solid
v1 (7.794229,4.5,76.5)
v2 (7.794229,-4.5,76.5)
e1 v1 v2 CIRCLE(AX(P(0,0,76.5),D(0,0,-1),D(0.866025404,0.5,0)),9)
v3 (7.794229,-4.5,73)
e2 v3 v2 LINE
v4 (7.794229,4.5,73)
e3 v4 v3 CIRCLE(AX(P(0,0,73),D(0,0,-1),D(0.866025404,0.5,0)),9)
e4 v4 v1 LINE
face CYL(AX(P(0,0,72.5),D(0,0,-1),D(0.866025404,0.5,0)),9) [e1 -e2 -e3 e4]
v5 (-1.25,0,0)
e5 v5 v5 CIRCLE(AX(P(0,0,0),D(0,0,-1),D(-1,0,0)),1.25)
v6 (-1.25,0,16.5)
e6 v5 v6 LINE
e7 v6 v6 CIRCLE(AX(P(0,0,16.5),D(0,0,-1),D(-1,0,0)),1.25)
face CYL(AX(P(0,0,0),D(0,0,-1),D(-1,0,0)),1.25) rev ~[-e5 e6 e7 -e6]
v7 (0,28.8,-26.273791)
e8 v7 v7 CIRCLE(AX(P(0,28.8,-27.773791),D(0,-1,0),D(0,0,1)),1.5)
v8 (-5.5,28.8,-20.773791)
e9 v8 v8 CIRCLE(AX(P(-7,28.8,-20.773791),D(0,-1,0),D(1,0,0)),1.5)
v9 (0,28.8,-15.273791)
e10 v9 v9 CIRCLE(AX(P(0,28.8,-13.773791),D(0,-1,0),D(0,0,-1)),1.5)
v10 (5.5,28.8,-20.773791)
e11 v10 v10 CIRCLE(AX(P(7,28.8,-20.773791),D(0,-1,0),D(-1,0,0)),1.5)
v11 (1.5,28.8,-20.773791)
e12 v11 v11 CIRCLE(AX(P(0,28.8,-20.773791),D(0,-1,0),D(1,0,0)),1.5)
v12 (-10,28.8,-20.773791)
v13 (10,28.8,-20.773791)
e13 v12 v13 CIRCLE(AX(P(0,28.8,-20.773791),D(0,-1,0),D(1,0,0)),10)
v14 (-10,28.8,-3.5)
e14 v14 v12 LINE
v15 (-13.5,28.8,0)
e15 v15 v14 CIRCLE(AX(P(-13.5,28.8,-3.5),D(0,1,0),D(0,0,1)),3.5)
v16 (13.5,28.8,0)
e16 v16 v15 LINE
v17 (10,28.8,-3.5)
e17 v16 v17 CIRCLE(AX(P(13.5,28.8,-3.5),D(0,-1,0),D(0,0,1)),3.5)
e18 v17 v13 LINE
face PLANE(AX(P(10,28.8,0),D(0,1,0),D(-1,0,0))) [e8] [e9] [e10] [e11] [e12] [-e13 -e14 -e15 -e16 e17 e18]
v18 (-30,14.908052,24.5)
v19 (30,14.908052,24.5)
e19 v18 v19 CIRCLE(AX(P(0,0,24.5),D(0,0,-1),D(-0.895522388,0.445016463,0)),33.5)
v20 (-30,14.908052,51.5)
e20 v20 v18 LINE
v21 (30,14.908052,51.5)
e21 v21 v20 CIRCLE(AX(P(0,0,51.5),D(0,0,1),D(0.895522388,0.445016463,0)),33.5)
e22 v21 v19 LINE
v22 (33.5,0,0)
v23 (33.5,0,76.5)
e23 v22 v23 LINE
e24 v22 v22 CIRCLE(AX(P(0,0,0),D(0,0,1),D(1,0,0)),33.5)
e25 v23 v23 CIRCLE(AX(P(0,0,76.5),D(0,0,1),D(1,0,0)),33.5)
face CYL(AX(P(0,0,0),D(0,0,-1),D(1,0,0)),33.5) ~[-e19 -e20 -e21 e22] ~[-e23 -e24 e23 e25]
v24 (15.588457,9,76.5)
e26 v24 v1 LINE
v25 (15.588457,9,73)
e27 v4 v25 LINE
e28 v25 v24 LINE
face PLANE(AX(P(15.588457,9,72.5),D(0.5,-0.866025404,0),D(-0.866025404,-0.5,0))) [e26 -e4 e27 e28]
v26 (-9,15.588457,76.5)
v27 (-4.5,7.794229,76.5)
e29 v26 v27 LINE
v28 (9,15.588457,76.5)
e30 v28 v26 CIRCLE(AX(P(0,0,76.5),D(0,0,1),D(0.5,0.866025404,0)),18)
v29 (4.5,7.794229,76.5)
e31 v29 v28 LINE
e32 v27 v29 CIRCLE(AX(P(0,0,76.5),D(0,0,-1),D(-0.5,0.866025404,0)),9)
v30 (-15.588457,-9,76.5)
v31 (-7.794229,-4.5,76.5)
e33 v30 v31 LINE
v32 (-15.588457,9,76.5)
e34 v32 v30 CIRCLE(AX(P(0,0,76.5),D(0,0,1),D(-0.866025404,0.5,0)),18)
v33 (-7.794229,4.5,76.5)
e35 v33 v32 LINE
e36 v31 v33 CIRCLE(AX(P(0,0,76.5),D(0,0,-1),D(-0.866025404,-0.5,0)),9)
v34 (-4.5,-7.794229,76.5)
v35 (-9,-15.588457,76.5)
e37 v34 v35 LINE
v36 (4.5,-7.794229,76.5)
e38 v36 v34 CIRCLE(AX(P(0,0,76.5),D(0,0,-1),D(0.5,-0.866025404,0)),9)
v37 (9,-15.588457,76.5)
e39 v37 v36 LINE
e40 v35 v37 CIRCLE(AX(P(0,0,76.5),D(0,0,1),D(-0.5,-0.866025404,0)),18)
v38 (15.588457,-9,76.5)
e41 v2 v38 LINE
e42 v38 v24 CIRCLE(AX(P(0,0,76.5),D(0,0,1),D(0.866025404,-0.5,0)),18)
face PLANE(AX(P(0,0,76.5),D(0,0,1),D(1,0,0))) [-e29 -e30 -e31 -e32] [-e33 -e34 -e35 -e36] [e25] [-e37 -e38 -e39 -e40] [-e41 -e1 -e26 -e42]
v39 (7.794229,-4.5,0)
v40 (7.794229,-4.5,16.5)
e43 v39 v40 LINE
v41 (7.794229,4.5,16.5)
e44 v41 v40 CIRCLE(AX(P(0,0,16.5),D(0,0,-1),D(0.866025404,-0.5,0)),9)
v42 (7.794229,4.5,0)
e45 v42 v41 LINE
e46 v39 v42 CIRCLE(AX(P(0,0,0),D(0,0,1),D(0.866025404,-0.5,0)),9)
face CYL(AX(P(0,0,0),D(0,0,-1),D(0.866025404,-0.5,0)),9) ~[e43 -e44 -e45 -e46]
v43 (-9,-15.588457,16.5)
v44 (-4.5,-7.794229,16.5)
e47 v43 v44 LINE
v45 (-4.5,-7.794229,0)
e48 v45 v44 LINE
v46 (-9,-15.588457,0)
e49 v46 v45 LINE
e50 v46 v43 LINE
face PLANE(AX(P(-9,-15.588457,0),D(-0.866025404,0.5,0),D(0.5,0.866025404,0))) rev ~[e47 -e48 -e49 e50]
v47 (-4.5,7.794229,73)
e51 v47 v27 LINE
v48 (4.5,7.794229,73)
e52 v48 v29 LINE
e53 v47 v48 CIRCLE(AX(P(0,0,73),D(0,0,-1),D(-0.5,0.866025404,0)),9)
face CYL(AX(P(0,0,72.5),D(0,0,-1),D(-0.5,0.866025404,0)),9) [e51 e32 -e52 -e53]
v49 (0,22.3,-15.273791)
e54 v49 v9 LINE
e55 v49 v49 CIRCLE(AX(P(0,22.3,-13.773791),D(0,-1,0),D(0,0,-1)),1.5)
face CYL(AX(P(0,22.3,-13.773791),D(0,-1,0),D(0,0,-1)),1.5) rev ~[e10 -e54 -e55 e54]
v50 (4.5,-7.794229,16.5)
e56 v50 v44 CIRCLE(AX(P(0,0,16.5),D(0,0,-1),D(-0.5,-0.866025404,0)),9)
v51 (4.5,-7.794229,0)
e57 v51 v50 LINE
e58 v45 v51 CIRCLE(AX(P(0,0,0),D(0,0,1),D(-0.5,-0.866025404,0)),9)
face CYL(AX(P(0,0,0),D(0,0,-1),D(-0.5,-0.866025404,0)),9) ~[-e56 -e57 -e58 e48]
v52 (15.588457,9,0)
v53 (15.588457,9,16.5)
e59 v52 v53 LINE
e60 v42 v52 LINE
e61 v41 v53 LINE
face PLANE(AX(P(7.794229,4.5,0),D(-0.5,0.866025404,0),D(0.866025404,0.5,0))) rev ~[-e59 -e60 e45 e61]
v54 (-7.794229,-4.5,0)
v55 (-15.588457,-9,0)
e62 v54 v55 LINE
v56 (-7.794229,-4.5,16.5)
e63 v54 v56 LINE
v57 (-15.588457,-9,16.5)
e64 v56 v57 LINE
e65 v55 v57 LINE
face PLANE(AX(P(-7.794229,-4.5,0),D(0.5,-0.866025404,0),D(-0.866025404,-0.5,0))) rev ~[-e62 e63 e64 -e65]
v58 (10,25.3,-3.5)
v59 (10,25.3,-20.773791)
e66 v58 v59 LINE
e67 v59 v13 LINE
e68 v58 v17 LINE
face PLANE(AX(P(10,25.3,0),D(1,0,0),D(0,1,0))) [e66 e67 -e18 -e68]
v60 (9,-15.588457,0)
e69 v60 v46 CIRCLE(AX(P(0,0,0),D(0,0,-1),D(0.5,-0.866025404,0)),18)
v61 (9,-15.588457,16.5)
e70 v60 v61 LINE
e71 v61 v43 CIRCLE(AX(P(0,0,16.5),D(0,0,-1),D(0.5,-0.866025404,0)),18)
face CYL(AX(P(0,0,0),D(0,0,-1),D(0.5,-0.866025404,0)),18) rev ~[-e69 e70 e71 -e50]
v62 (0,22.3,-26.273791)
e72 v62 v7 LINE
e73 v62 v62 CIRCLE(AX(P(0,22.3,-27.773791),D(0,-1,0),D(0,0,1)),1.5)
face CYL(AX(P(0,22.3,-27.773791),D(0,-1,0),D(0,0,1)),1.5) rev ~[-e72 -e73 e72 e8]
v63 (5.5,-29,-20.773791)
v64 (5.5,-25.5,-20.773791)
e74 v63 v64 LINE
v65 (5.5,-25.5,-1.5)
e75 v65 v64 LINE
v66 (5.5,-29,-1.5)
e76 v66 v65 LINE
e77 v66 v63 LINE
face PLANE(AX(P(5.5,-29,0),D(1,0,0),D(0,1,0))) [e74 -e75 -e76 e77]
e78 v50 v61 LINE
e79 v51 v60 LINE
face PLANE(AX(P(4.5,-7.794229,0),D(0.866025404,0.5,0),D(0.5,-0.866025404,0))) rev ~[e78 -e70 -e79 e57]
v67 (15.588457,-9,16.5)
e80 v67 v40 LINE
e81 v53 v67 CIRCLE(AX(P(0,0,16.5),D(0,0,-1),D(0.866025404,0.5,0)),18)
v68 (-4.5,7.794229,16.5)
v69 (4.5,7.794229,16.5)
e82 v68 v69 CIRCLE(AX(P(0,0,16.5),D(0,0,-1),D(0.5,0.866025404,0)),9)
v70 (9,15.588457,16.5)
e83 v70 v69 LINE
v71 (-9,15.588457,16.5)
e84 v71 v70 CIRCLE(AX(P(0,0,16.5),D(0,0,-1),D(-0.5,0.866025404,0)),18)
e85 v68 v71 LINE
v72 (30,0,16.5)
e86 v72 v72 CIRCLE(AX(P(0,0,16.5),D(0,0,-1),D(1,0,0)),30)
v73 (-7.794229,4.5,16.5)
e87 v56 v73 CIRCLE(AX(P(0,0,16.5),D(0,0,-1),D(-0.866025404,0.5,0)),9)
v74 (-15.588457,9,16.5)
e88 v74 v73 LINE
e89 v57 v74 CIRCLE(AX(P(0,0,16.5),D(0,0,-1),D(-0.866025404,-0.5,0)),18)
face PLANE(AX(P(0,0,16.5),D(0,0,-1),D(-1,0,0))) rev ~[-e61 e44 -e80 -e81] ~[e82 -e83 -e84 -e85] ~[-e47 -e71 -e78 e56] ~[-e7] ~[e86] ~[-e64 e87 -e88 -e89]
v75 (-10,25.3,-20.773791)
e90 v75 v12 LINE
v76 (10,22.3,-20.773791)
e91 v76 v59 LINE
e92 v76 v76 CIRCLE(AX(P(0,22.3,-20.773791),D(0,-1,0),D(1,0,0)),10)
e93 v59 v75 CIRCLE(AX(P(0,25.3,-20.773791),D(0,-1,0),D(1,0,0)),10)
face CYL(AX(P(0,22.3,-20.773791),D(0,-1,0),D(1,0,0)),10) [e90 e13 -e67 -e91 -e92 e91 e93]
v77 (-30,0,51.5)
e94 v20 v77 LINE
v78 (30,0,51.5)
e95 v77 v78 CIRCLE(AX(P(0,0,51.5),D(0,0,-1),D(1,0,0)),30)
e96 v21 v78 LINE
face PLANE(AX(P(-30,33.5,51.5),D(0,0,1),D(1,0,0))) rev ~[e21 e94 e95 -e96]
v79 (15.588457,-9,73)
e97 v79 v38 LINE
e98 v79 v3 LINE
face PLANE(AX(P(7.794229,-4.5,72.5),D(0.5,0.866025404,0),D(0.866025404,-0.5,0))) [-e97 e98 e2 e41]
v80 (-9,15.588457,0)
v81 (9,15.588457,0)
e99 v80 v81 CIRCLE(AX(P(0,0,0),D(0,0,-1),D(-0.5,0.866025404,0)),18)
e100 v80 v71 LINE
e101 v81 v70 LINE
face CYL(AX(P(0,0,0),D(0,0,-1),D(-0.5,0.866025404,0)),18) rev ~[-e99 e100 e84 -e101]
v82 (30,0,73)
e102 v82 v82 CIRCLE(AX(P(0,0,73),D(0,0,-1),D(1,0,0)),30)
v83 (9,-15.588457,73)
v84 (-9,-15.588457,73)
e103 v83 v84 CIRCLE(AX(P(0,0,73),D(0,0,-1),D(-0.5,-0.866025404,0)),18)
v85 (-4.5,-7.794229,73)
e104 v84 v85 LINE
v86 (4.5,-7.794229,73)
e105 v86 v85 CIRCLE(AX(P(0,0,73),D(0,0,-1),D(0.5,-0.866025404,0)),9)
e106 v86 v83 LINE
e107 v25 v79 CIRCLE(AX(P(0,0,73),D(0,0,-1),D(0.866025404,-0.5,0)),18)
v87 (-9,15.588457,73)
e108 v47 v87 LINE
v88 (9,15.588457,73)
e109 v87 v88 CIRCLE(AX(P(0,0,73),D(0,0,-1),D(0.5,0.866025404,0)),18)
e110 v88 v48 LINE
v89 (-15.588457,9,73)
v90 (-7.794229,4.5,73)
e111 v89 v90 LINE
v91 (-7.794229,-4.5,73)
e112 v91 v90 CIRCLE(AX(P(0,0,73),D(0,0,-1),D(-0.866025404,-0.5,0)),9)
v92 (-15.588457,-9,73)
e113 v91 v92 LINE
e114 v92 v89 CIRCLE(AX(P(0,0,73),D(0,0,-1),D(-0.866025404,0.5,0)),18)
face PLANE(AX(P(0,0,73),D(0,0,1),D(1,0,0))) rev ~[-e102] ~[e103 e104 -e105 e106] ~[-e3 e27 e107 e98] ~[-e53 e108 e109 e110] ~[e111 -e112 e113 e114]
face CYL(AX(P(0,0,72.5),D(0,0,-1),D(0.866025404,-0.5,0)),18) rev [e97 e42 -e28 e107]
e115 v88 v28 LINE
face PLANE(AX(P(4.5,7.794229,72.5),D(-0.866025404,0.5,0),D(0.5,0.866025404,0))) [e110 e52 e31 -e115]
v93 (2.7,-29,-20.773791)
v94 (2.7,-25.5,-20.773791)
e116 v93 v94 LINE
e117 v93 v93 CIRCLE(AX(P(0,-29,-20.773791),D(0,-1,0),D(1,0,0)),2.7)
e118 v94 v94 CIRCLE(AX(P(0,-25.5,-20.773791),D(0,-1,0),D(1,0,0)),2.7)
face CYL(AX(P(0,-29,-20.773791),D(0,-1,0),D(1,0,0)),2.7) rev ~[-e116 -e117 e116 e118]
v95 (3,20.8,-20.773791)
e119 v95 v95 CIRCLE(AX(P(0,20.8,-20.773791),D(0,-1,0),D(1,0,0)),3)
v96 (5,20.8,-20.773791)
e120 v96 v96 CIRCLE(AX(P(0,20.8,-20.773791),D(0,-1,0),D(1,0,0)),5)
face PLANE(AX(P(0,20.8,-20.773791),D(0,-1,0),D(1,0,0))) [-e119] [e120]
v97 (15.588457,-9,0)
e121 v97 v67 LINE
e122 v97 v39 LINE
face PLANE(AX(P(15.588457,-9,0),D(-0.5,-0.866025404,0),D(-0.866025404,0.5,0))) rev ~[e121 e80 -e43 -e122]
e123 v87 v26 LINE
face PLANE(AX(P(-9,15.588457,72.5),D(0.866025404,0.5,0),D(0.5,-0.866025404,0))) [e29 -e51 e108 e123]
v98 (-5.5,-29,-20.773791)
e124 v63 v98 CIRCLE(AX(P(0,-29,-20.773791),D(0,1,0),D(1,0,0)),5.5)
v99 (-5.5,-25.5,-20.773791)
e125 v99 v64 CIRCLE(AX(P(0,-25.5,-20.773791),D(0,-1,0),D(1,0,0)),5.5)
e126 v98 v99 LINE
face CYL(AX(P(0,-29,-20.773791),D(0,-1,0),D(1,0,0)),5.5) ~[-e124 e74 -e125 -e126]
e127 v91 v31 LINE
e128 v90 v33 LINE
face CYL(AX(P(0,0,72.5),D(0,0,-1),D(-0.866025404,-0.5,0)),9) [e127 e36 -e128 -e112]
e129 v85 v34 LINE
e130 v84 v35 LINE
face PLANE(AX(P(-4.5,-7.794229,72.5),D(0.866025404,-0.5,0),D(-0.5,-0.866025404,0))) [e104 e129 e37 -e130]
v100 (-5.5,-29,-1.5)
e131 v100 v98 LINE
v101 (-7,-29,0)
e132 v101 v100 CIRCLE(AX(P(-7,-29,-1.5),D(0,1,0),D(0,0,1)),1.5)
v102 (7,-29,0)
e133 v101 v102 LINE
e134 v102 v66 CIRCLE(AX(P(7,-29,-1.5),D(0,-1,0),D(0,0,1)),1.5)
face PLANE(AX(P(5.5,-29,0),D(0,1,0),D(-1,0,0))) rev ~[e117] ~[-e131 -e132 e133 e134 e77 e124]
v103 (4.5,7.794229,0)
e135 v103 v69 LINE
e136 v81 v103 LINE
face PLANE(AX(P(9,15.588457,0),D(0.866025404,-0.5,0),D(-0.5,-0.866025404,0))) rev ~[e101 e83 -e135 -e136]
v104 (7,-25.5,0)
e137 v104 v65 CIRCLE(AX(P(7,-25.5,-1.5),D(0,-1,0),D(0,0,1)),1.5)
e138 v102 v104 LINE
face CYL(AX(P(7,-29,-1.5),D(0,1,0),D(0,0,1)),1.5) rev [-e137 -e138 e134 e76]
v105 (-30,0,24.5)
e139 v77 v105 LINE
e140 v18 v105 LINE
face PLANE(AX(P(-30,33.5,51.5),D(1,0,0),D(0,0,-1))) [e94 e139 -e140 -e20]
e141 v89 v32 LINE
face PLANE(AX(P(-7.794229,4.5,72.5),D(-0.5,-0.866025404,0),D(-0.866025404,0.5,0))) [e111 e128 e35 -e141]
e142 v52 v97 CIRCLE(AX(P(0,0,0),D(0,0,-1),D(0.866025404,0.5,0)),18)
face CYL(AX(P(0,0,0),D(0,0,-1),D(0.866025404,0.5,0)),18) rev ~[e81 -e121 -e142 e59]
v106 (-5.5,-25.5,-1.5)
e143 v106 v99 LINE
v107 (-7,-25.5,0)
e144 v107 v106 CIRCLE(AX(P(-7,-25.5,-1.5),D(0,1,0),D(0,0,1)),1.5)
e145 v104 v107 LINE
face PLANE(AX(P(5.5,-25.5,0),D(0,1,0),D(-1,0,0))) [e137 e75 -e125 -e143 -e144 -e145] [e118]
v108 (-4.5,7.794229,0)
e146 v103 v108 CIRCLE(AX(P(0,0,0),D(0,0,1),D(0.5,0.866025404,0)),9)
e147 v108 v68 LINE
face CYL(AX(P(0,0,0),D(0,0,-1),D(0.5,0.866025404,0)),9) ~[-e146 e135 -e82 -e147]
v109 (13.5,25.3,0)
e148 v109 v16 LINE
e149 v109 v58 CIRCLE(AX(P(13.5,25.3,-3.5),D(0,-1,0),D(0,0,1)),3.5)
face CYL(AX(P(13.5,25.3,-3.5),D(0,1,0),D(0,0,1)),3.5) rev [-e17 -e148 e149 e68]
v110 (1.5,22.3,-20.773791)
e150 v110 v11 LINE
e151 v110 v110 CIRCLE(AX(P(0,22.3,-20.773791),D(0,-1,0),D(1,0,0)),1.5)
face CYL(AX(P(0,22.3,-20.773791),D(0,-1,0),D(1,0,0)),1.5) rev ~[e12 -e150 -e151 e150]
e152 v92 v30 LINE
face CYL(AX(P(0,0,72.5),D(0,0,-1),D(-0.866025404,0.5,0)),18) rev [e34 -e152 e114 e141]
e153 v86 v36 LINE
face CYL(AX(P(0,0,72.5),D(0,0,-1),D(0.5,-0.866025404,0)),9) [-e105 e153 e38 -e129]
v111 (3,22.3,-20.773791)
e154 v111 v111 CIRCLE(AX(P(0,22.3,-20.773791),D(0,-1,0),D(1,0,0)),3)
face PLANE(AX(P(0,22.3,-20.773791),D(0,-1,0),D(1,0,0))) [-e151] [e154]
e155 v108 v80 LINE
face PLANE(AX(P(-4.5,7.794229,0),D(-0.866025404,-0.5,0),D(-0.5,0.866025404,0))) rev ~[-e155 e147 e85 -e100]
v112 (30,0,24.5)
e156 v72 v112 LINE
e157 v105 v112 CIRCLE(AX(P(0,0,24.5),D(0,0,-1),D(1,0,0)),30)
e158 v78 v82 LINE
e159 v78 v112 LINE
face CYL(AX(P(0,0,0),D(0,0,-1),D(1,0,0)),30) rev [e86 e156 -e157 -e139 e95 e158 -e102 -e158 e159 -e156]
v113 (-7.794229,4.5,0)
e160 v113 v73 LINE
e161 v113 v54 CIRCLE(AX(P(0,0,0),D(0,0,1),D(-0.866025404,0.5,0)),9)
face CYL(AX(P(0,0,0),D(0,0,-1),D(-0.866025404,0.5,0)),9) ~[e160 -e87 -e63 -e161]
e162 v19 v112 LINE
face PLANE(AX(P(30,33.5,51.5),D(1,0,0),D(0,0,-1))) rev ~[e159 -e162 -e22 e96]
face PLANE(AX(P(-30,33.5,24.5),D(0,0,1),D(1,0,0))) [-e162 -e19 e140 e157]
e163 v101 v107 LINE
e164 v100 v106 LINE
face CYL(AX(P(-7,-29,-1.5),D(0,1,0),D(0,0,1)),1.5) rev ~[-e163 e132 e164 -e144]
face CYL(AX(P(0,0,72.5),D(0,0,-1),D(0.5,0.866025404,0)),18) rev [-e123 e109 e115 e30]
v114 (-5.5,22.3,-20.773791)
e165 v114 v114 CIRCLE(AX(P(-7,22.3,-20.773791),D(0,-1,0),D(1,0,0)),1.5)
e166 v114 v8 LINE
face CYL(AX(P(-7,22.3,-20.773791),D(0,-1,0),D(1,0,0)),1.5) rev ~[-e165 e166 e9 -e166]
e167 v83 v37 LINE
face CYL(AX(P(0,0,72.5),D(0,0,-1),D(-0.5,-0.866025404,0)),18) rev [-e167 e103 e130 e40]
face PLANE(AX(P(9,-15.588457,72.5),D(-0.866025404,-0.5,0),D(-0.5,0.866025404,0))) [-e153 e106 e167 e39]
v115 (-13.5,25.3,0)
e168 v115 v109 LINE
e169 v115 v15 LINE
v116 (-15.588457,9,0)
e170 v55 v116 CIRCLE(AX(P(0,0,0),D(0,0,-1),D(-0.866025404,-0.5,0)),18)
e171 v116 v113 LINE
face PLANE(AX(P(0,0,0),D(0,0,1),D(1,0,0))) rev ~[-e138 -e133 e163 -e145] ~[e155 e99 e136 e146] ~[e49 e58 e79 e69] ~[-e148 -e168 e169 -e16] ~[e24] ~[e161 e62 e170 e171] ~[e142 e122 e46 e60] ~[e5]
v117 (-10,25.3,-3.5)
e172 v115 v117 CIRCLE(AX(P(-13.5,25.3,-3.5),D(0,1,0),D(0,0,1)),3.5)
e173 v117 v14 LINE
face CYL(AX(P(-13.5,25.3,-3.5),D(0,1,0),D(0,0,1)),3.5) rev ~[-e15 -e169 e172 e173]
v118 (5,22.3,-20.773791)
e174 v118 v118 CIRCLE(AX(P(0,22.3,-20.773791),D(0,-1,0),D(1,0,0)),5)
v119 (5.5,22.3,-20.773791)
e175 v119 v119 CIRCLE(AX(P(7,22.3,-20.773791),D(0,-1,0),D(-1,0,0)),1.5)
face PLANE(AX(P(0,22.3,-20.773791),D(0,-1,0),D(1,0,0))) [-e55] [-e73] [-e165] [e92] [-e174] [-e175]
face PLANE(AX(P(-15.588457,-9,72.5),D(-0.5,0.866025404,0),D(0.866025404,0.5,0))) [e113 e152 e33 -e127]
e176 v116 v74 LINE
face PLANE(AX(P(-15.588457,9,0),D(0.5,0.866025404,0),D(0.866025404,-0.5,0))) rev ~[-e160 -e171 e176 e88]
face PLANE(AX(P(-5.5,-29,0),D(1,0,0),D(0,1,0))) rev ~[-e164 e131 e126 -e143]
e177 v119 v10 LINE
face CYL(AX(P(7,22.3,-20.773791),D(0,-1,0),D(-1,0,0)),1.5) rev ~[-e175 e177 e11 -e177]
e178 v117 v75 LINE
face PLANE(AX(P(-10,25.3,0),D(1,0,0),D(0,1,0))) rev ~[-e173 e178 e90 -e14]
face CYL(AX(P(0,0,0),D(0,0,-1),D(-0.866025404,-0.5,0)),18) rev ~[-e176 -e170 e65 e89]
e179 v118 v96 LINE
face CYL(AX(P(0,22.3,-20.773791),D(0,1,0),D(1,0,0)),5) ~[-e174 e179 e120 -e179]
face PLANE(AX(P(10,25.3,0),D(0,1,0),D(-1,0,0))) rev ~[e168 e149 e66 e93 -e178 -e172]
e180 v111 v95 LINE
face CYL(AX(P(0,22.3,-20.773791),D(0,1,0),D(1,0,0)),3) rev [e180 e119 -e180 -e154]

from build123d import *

# Parameters (mm, degrees)
SKETCH1_R           = 33.5
SKETCH1_R_2         = 30
BOSS_EXTRUDE1_DEPTH = 76.5
SKETCH3_R           = 33.5
BOSS_EXTRUDE2_DEPTH = 16.5
SKETCH4_W           = 20
SKETCH4_H           = 3.5
BOSS_EXTRUDE4_DEPTH = 30.867
SKETCH4_5_W         = 11
SKETCH4_5_H         = 3.5
BOSS_EXTRUDE5_DEPTH = 27
SKETCH4_7_R         = 1.25
CUT_EXTRUDE1_DEPTH  = 90.981942633
FILLET1_R           = 3.5
FILLET2_R           = 1.5
CUT_EXTRUDE4_DEPTH  = 103.136868955
BOSS_EXTRUDE7_START = 3
SKETCH6_10_R        = 10
BOSS_EXTRUDE7_DEPTH = 3
SKETCH12_R          = 5
SKETCH12_R_2        = 3
BOSS_EXTRUDE8_DEPTH = 1.5
SKETCH12_3_R        = 1.5
CUT_EXTRUDE7_DEPTH  = 101.439733174
CIRPATTERN1_COUNT   = 4
SKETCH12_4_R        = 1.5
CUT_EXTRUDE8_DEPTH  = 101.439733174
CUT_EXTRUDE9_DEPTH  = 90.981942633
CIRPATTERN2_COUNT   = 4
SKETCH13_W          = 60
SKETCH13_H          = 27
CUT_EXTRUDE11_DEPTH = 33.5
BOSS_EXTRUDE9_START = -3.5
SKETCH14_R          = 33.5
BOSS_EXTRUDE9_DEPTH = 3.5
CUT_EXTRUDE12_START = -4
CUT_EXTRUDE12_DEPTH = 4
CIRPATTERN3_COUNT   = 4
SKETCH16_R          = 2.7
CUT_EXTRUDE13_DEPTH = 10


with BuildPart() as part:
    # Sketch1 → Boss-Extrude1 (new body)
    with BuildSketch(Plane.XY):
        Circle(SKETCH1_R)
        Circle(SKETCH1_R_2, mode=Mode.SUBTRACT)
    extrude(amount=BOSS_EXTRUDE1_DEPTH)

    # Sketch3 → Boss-Extrude2 (add)
    with BuildSketch(Plane(origin=(0, 0, 0), x_dir=(-1, 0, 0), z_dir=(0, 0, -1))):
        Circle(SKETCH3_R)
    extrude(amount=-BOSS_EXTRUDE2_DEPTH)

    # Sketch4 → Boss-Extrude4 (add)
    with BuildSketch(Plane(origin=(0, 0, 0), x_dir=(-1, 0, 0), z_dir=(0, 0, -1))):
        with Locations((0, 27.05)):
            Rectangle(SKETCH4_W, SKETCH4_H)
    extrude(amount=BOSS_EXTRUDE4_DEPTH)

    # Sketch4<5> → Boss-Extrude5 (add)
    with BuildSketch(Plane(origin=(0, 0, 0), x_dir=(-1, 0, 0), z_dir=(0, 0, -1))):
        with Locations((0, -27.25)):
            Rectangle(SKETCH4_5_W, SKETCH4_5_H)
    extrude(amount=BOSS_EXTRUDE5_DEPTH)

    # Sketch4<7> → Cut-Extrude1 (cut, through all)
    with BuildSketch(Plane(origin=(0, 0, 0), x_dir=(-1, 0, 0), z_dir=(0, 0, -1))):
        Circle(SKETCH4_7_R)
    extrude(amount=-CUT_EXTRUDE1_DEPTH, mode=Mode.SUBTRACT)

    # Fillet1
    fillet1_edges = [part.edges().sort_by_distance(p)[0] for p in [
        (10, 27.05, 0),
        (-10, 27.05, 0),
    ]]
    fillet(fillet1_edges, radius=FILLET1_R)

    # Fillet2
    fillet2_edges = [part.edges().sort_by_distance(p)[0] for p in [
        (5.5, -27.25, 0),
        (-5.5, -27.25, 0),
    ]]
    fillet(fillet2_edges, radius=FILLET2_R)

    # Sketch6 → Cut-Extrude4 (cut, through all)
    with BuildSketch(Plane.XZ.offset(-25.3)):
        with BuildLine():
            Line((10, -30.867), (10, -20.77379065))
            ThreePointArc((10, -20.77379065), (0, -30.77379065), (-10, -20.77379065))
            Line((-10, -20.77379065), (-10, -30.867))
            Line((-10, -30.867), (10, -30.867))
        make_face()
    extrude(amount=-CUT_EXTRUDE4_DEPTH, mode=Mode.SUBTRACT)

    # Sketch6<10> → Boss-Extrude7 (add)
    with BuildSketch(Plane.XZ.offset(-25.3).offset(BOSS_EXTRUDE7_START)):
        with Locations((0, -20.77379065)):
            Circle(SKETCH6_10_R)
    extrude(amount=-BOSS_EXTRUDE7_DEPTH)

    # Sketch12 → Boss-Extrude8 (add)
    with BuildSketch(Plane.XZ.offset(-22.3)):
        with Locations((0, -20.77379065)):
            Circle(SKETCH12_R)
        with Locations((0, -20.77379065)):
            Circle(SKETCH12_R_2, mode=Mode.SUBTRACT)
    extrude(amount=BOSS_EXTRUDE8_DEPTH)

    # Sketch12<3> → Cut-Extrude7 (cut, through all)
    with BuildSketch(Plane.XZ.offset(-22.3)):
        with Locations((-7, -20.77379065)):
            Circle(SKETCH12_3_R)
    cut_extrude7 = extrude(amount=-CUT_EXTRUDE7_DEPTH, mode=Mode.SUBTRACT)

    # CirPattern1: Cut-Extrude7 ×4 about axis
    cirpattern1_axis = Axis((0, 20.8, -20.77379065), (0, -1, 0))
    for i in range(1, CIRPATTERN1_COUNT):
        add(cut_extrude7.rotate(cirpattern1_axis, i * 360 / CIRPATTERN1_COUNT), mode=Mode.SUBTRACT)

    # Sketch12<4> → Cut-Extrude8 (cut, through all)
    with BuildSketch(Plane.XZ.offset(-22.3)):
        with Locations((0, -20.77379065)):
            Circle(SKETCH12_4_R)
    extrude(amount=-CUT_EXTRUDE8_DEPTH, mode=Mode.SUBTRACT)

    # Sketch4<8> → Cut-Extrude9 (cut, through all)
    with BuildSketch(Plane(origin=(0, 0, 0), x_dir=(-1, 0, 0), z_dir=(0, 0, -1))):
        with BuildLine():
            Line((15.588457268, 9), (7.794228634, 4.5))
            ThreePointArc((7.794228634, 4.5), (9, 0), (7.794228634, -4.5))
            Line((7.794228634, -4.5), (15.588457268, -9))
            ThreePointArc((15.588457268, -9), (18, 0), (15.588457268, 9))
        make_face()
    cut_extrude9 = extrude(amount=-CUT_EXTRUDE9_DEPTH, mode=Mode.SUBTRACT)

    # CirPattern2: Cut-Extrude9 ×4 about axis
    cirpattern2_axis = Axis((0, 0, 0), (0, 0, -1))
    for i in range(1, CIRPATTERN2_COUNT):
        add(cut_extrude9.rotate(cirpattern2_axis, i * 360 / CIRPATTERN2_COUNT), mode=Mode.SUBTRACT)

    # Sketch13 → Cut-Extrude11 (cut)
    with BuildSketch(Plane(origin=(0, 33.5, 0), x_dir=(1, 0, 0), z_dir=(0, 1, 0))):
        with Locations((0, -38)):
            Rectangle(SKETCH13_W, SKETCH13_H)
    extrude(amount=-CUT_EXTRUDE11_DEPTH, mode=Mode.SUBTRACT)

    # Sketch14 → Boss-Extrude9 (add)
    with BuildSketch(Plane.XY.offset(76.5).offset(BOSS_EXTRUDE9_START)):
        Circle(SKETCH14_R)
    extrude(amount=BOSS_EXTRUDE9_DEPTH)

    # Sketch14<3> → Cut-Extrude12 (cut)
    with BuildSketch(Plane.XY.offset(76.5).offset(CUT_EXTRUDE12_START)):
        with BuildLine():
            Line((15.588457268, 9), (7.794228634, 4.5))
            ThreePointArc((7.794228634, 4.5), (9, 0), (7.794228634, -4.5))
            Line((7.794228634, -4.5), (15.588457268, -9))
            ThreePointArc((15.588457268, -9), (18, 0), (15.588457268, 9))
        make_face()
    cut_extrude12 = extrude(amount=CUT_EXTRUDE12_DEPTH, mode=Mode.SUBTRACT)

    # CirPattern3: Cut-Extrude12 ×4 about axis
    cirpattern3_axis = Axis((0, 0, 16.5), (0, 0, -1))
    for i in range(1, CIRPATTERN3_COUNT):
        add(cut_extrude12.rotate(cirpattern3_axis, i * 360 / CIRPATTERN3_COUNT), mode=Mode.SUBTRACT)

    # Sketch16 → Cut-Extrude13 (cut)
    with BuildSketch(Plane.XZ.offset(29)):
        with Locations((0, -20.77379065)):
            Circle(SKETCH16_R)
        with BuildLine():
            Line((5.5, -27), (5.5, -20.77379065))
            ThreePointArc((5.5, -20.77379065), (0, -26.27379065), (-5.5, -20.77379065))
            Line((-5.5, -20.77379065), (-5.5, -27))
            Line((-5.5, -27), (5.5, -27))
        make_face()
    extrude(amount=-CUT_EXTRUDE13_DEPTH, mode=Mode.SUBTRACT)


solid = part.part
